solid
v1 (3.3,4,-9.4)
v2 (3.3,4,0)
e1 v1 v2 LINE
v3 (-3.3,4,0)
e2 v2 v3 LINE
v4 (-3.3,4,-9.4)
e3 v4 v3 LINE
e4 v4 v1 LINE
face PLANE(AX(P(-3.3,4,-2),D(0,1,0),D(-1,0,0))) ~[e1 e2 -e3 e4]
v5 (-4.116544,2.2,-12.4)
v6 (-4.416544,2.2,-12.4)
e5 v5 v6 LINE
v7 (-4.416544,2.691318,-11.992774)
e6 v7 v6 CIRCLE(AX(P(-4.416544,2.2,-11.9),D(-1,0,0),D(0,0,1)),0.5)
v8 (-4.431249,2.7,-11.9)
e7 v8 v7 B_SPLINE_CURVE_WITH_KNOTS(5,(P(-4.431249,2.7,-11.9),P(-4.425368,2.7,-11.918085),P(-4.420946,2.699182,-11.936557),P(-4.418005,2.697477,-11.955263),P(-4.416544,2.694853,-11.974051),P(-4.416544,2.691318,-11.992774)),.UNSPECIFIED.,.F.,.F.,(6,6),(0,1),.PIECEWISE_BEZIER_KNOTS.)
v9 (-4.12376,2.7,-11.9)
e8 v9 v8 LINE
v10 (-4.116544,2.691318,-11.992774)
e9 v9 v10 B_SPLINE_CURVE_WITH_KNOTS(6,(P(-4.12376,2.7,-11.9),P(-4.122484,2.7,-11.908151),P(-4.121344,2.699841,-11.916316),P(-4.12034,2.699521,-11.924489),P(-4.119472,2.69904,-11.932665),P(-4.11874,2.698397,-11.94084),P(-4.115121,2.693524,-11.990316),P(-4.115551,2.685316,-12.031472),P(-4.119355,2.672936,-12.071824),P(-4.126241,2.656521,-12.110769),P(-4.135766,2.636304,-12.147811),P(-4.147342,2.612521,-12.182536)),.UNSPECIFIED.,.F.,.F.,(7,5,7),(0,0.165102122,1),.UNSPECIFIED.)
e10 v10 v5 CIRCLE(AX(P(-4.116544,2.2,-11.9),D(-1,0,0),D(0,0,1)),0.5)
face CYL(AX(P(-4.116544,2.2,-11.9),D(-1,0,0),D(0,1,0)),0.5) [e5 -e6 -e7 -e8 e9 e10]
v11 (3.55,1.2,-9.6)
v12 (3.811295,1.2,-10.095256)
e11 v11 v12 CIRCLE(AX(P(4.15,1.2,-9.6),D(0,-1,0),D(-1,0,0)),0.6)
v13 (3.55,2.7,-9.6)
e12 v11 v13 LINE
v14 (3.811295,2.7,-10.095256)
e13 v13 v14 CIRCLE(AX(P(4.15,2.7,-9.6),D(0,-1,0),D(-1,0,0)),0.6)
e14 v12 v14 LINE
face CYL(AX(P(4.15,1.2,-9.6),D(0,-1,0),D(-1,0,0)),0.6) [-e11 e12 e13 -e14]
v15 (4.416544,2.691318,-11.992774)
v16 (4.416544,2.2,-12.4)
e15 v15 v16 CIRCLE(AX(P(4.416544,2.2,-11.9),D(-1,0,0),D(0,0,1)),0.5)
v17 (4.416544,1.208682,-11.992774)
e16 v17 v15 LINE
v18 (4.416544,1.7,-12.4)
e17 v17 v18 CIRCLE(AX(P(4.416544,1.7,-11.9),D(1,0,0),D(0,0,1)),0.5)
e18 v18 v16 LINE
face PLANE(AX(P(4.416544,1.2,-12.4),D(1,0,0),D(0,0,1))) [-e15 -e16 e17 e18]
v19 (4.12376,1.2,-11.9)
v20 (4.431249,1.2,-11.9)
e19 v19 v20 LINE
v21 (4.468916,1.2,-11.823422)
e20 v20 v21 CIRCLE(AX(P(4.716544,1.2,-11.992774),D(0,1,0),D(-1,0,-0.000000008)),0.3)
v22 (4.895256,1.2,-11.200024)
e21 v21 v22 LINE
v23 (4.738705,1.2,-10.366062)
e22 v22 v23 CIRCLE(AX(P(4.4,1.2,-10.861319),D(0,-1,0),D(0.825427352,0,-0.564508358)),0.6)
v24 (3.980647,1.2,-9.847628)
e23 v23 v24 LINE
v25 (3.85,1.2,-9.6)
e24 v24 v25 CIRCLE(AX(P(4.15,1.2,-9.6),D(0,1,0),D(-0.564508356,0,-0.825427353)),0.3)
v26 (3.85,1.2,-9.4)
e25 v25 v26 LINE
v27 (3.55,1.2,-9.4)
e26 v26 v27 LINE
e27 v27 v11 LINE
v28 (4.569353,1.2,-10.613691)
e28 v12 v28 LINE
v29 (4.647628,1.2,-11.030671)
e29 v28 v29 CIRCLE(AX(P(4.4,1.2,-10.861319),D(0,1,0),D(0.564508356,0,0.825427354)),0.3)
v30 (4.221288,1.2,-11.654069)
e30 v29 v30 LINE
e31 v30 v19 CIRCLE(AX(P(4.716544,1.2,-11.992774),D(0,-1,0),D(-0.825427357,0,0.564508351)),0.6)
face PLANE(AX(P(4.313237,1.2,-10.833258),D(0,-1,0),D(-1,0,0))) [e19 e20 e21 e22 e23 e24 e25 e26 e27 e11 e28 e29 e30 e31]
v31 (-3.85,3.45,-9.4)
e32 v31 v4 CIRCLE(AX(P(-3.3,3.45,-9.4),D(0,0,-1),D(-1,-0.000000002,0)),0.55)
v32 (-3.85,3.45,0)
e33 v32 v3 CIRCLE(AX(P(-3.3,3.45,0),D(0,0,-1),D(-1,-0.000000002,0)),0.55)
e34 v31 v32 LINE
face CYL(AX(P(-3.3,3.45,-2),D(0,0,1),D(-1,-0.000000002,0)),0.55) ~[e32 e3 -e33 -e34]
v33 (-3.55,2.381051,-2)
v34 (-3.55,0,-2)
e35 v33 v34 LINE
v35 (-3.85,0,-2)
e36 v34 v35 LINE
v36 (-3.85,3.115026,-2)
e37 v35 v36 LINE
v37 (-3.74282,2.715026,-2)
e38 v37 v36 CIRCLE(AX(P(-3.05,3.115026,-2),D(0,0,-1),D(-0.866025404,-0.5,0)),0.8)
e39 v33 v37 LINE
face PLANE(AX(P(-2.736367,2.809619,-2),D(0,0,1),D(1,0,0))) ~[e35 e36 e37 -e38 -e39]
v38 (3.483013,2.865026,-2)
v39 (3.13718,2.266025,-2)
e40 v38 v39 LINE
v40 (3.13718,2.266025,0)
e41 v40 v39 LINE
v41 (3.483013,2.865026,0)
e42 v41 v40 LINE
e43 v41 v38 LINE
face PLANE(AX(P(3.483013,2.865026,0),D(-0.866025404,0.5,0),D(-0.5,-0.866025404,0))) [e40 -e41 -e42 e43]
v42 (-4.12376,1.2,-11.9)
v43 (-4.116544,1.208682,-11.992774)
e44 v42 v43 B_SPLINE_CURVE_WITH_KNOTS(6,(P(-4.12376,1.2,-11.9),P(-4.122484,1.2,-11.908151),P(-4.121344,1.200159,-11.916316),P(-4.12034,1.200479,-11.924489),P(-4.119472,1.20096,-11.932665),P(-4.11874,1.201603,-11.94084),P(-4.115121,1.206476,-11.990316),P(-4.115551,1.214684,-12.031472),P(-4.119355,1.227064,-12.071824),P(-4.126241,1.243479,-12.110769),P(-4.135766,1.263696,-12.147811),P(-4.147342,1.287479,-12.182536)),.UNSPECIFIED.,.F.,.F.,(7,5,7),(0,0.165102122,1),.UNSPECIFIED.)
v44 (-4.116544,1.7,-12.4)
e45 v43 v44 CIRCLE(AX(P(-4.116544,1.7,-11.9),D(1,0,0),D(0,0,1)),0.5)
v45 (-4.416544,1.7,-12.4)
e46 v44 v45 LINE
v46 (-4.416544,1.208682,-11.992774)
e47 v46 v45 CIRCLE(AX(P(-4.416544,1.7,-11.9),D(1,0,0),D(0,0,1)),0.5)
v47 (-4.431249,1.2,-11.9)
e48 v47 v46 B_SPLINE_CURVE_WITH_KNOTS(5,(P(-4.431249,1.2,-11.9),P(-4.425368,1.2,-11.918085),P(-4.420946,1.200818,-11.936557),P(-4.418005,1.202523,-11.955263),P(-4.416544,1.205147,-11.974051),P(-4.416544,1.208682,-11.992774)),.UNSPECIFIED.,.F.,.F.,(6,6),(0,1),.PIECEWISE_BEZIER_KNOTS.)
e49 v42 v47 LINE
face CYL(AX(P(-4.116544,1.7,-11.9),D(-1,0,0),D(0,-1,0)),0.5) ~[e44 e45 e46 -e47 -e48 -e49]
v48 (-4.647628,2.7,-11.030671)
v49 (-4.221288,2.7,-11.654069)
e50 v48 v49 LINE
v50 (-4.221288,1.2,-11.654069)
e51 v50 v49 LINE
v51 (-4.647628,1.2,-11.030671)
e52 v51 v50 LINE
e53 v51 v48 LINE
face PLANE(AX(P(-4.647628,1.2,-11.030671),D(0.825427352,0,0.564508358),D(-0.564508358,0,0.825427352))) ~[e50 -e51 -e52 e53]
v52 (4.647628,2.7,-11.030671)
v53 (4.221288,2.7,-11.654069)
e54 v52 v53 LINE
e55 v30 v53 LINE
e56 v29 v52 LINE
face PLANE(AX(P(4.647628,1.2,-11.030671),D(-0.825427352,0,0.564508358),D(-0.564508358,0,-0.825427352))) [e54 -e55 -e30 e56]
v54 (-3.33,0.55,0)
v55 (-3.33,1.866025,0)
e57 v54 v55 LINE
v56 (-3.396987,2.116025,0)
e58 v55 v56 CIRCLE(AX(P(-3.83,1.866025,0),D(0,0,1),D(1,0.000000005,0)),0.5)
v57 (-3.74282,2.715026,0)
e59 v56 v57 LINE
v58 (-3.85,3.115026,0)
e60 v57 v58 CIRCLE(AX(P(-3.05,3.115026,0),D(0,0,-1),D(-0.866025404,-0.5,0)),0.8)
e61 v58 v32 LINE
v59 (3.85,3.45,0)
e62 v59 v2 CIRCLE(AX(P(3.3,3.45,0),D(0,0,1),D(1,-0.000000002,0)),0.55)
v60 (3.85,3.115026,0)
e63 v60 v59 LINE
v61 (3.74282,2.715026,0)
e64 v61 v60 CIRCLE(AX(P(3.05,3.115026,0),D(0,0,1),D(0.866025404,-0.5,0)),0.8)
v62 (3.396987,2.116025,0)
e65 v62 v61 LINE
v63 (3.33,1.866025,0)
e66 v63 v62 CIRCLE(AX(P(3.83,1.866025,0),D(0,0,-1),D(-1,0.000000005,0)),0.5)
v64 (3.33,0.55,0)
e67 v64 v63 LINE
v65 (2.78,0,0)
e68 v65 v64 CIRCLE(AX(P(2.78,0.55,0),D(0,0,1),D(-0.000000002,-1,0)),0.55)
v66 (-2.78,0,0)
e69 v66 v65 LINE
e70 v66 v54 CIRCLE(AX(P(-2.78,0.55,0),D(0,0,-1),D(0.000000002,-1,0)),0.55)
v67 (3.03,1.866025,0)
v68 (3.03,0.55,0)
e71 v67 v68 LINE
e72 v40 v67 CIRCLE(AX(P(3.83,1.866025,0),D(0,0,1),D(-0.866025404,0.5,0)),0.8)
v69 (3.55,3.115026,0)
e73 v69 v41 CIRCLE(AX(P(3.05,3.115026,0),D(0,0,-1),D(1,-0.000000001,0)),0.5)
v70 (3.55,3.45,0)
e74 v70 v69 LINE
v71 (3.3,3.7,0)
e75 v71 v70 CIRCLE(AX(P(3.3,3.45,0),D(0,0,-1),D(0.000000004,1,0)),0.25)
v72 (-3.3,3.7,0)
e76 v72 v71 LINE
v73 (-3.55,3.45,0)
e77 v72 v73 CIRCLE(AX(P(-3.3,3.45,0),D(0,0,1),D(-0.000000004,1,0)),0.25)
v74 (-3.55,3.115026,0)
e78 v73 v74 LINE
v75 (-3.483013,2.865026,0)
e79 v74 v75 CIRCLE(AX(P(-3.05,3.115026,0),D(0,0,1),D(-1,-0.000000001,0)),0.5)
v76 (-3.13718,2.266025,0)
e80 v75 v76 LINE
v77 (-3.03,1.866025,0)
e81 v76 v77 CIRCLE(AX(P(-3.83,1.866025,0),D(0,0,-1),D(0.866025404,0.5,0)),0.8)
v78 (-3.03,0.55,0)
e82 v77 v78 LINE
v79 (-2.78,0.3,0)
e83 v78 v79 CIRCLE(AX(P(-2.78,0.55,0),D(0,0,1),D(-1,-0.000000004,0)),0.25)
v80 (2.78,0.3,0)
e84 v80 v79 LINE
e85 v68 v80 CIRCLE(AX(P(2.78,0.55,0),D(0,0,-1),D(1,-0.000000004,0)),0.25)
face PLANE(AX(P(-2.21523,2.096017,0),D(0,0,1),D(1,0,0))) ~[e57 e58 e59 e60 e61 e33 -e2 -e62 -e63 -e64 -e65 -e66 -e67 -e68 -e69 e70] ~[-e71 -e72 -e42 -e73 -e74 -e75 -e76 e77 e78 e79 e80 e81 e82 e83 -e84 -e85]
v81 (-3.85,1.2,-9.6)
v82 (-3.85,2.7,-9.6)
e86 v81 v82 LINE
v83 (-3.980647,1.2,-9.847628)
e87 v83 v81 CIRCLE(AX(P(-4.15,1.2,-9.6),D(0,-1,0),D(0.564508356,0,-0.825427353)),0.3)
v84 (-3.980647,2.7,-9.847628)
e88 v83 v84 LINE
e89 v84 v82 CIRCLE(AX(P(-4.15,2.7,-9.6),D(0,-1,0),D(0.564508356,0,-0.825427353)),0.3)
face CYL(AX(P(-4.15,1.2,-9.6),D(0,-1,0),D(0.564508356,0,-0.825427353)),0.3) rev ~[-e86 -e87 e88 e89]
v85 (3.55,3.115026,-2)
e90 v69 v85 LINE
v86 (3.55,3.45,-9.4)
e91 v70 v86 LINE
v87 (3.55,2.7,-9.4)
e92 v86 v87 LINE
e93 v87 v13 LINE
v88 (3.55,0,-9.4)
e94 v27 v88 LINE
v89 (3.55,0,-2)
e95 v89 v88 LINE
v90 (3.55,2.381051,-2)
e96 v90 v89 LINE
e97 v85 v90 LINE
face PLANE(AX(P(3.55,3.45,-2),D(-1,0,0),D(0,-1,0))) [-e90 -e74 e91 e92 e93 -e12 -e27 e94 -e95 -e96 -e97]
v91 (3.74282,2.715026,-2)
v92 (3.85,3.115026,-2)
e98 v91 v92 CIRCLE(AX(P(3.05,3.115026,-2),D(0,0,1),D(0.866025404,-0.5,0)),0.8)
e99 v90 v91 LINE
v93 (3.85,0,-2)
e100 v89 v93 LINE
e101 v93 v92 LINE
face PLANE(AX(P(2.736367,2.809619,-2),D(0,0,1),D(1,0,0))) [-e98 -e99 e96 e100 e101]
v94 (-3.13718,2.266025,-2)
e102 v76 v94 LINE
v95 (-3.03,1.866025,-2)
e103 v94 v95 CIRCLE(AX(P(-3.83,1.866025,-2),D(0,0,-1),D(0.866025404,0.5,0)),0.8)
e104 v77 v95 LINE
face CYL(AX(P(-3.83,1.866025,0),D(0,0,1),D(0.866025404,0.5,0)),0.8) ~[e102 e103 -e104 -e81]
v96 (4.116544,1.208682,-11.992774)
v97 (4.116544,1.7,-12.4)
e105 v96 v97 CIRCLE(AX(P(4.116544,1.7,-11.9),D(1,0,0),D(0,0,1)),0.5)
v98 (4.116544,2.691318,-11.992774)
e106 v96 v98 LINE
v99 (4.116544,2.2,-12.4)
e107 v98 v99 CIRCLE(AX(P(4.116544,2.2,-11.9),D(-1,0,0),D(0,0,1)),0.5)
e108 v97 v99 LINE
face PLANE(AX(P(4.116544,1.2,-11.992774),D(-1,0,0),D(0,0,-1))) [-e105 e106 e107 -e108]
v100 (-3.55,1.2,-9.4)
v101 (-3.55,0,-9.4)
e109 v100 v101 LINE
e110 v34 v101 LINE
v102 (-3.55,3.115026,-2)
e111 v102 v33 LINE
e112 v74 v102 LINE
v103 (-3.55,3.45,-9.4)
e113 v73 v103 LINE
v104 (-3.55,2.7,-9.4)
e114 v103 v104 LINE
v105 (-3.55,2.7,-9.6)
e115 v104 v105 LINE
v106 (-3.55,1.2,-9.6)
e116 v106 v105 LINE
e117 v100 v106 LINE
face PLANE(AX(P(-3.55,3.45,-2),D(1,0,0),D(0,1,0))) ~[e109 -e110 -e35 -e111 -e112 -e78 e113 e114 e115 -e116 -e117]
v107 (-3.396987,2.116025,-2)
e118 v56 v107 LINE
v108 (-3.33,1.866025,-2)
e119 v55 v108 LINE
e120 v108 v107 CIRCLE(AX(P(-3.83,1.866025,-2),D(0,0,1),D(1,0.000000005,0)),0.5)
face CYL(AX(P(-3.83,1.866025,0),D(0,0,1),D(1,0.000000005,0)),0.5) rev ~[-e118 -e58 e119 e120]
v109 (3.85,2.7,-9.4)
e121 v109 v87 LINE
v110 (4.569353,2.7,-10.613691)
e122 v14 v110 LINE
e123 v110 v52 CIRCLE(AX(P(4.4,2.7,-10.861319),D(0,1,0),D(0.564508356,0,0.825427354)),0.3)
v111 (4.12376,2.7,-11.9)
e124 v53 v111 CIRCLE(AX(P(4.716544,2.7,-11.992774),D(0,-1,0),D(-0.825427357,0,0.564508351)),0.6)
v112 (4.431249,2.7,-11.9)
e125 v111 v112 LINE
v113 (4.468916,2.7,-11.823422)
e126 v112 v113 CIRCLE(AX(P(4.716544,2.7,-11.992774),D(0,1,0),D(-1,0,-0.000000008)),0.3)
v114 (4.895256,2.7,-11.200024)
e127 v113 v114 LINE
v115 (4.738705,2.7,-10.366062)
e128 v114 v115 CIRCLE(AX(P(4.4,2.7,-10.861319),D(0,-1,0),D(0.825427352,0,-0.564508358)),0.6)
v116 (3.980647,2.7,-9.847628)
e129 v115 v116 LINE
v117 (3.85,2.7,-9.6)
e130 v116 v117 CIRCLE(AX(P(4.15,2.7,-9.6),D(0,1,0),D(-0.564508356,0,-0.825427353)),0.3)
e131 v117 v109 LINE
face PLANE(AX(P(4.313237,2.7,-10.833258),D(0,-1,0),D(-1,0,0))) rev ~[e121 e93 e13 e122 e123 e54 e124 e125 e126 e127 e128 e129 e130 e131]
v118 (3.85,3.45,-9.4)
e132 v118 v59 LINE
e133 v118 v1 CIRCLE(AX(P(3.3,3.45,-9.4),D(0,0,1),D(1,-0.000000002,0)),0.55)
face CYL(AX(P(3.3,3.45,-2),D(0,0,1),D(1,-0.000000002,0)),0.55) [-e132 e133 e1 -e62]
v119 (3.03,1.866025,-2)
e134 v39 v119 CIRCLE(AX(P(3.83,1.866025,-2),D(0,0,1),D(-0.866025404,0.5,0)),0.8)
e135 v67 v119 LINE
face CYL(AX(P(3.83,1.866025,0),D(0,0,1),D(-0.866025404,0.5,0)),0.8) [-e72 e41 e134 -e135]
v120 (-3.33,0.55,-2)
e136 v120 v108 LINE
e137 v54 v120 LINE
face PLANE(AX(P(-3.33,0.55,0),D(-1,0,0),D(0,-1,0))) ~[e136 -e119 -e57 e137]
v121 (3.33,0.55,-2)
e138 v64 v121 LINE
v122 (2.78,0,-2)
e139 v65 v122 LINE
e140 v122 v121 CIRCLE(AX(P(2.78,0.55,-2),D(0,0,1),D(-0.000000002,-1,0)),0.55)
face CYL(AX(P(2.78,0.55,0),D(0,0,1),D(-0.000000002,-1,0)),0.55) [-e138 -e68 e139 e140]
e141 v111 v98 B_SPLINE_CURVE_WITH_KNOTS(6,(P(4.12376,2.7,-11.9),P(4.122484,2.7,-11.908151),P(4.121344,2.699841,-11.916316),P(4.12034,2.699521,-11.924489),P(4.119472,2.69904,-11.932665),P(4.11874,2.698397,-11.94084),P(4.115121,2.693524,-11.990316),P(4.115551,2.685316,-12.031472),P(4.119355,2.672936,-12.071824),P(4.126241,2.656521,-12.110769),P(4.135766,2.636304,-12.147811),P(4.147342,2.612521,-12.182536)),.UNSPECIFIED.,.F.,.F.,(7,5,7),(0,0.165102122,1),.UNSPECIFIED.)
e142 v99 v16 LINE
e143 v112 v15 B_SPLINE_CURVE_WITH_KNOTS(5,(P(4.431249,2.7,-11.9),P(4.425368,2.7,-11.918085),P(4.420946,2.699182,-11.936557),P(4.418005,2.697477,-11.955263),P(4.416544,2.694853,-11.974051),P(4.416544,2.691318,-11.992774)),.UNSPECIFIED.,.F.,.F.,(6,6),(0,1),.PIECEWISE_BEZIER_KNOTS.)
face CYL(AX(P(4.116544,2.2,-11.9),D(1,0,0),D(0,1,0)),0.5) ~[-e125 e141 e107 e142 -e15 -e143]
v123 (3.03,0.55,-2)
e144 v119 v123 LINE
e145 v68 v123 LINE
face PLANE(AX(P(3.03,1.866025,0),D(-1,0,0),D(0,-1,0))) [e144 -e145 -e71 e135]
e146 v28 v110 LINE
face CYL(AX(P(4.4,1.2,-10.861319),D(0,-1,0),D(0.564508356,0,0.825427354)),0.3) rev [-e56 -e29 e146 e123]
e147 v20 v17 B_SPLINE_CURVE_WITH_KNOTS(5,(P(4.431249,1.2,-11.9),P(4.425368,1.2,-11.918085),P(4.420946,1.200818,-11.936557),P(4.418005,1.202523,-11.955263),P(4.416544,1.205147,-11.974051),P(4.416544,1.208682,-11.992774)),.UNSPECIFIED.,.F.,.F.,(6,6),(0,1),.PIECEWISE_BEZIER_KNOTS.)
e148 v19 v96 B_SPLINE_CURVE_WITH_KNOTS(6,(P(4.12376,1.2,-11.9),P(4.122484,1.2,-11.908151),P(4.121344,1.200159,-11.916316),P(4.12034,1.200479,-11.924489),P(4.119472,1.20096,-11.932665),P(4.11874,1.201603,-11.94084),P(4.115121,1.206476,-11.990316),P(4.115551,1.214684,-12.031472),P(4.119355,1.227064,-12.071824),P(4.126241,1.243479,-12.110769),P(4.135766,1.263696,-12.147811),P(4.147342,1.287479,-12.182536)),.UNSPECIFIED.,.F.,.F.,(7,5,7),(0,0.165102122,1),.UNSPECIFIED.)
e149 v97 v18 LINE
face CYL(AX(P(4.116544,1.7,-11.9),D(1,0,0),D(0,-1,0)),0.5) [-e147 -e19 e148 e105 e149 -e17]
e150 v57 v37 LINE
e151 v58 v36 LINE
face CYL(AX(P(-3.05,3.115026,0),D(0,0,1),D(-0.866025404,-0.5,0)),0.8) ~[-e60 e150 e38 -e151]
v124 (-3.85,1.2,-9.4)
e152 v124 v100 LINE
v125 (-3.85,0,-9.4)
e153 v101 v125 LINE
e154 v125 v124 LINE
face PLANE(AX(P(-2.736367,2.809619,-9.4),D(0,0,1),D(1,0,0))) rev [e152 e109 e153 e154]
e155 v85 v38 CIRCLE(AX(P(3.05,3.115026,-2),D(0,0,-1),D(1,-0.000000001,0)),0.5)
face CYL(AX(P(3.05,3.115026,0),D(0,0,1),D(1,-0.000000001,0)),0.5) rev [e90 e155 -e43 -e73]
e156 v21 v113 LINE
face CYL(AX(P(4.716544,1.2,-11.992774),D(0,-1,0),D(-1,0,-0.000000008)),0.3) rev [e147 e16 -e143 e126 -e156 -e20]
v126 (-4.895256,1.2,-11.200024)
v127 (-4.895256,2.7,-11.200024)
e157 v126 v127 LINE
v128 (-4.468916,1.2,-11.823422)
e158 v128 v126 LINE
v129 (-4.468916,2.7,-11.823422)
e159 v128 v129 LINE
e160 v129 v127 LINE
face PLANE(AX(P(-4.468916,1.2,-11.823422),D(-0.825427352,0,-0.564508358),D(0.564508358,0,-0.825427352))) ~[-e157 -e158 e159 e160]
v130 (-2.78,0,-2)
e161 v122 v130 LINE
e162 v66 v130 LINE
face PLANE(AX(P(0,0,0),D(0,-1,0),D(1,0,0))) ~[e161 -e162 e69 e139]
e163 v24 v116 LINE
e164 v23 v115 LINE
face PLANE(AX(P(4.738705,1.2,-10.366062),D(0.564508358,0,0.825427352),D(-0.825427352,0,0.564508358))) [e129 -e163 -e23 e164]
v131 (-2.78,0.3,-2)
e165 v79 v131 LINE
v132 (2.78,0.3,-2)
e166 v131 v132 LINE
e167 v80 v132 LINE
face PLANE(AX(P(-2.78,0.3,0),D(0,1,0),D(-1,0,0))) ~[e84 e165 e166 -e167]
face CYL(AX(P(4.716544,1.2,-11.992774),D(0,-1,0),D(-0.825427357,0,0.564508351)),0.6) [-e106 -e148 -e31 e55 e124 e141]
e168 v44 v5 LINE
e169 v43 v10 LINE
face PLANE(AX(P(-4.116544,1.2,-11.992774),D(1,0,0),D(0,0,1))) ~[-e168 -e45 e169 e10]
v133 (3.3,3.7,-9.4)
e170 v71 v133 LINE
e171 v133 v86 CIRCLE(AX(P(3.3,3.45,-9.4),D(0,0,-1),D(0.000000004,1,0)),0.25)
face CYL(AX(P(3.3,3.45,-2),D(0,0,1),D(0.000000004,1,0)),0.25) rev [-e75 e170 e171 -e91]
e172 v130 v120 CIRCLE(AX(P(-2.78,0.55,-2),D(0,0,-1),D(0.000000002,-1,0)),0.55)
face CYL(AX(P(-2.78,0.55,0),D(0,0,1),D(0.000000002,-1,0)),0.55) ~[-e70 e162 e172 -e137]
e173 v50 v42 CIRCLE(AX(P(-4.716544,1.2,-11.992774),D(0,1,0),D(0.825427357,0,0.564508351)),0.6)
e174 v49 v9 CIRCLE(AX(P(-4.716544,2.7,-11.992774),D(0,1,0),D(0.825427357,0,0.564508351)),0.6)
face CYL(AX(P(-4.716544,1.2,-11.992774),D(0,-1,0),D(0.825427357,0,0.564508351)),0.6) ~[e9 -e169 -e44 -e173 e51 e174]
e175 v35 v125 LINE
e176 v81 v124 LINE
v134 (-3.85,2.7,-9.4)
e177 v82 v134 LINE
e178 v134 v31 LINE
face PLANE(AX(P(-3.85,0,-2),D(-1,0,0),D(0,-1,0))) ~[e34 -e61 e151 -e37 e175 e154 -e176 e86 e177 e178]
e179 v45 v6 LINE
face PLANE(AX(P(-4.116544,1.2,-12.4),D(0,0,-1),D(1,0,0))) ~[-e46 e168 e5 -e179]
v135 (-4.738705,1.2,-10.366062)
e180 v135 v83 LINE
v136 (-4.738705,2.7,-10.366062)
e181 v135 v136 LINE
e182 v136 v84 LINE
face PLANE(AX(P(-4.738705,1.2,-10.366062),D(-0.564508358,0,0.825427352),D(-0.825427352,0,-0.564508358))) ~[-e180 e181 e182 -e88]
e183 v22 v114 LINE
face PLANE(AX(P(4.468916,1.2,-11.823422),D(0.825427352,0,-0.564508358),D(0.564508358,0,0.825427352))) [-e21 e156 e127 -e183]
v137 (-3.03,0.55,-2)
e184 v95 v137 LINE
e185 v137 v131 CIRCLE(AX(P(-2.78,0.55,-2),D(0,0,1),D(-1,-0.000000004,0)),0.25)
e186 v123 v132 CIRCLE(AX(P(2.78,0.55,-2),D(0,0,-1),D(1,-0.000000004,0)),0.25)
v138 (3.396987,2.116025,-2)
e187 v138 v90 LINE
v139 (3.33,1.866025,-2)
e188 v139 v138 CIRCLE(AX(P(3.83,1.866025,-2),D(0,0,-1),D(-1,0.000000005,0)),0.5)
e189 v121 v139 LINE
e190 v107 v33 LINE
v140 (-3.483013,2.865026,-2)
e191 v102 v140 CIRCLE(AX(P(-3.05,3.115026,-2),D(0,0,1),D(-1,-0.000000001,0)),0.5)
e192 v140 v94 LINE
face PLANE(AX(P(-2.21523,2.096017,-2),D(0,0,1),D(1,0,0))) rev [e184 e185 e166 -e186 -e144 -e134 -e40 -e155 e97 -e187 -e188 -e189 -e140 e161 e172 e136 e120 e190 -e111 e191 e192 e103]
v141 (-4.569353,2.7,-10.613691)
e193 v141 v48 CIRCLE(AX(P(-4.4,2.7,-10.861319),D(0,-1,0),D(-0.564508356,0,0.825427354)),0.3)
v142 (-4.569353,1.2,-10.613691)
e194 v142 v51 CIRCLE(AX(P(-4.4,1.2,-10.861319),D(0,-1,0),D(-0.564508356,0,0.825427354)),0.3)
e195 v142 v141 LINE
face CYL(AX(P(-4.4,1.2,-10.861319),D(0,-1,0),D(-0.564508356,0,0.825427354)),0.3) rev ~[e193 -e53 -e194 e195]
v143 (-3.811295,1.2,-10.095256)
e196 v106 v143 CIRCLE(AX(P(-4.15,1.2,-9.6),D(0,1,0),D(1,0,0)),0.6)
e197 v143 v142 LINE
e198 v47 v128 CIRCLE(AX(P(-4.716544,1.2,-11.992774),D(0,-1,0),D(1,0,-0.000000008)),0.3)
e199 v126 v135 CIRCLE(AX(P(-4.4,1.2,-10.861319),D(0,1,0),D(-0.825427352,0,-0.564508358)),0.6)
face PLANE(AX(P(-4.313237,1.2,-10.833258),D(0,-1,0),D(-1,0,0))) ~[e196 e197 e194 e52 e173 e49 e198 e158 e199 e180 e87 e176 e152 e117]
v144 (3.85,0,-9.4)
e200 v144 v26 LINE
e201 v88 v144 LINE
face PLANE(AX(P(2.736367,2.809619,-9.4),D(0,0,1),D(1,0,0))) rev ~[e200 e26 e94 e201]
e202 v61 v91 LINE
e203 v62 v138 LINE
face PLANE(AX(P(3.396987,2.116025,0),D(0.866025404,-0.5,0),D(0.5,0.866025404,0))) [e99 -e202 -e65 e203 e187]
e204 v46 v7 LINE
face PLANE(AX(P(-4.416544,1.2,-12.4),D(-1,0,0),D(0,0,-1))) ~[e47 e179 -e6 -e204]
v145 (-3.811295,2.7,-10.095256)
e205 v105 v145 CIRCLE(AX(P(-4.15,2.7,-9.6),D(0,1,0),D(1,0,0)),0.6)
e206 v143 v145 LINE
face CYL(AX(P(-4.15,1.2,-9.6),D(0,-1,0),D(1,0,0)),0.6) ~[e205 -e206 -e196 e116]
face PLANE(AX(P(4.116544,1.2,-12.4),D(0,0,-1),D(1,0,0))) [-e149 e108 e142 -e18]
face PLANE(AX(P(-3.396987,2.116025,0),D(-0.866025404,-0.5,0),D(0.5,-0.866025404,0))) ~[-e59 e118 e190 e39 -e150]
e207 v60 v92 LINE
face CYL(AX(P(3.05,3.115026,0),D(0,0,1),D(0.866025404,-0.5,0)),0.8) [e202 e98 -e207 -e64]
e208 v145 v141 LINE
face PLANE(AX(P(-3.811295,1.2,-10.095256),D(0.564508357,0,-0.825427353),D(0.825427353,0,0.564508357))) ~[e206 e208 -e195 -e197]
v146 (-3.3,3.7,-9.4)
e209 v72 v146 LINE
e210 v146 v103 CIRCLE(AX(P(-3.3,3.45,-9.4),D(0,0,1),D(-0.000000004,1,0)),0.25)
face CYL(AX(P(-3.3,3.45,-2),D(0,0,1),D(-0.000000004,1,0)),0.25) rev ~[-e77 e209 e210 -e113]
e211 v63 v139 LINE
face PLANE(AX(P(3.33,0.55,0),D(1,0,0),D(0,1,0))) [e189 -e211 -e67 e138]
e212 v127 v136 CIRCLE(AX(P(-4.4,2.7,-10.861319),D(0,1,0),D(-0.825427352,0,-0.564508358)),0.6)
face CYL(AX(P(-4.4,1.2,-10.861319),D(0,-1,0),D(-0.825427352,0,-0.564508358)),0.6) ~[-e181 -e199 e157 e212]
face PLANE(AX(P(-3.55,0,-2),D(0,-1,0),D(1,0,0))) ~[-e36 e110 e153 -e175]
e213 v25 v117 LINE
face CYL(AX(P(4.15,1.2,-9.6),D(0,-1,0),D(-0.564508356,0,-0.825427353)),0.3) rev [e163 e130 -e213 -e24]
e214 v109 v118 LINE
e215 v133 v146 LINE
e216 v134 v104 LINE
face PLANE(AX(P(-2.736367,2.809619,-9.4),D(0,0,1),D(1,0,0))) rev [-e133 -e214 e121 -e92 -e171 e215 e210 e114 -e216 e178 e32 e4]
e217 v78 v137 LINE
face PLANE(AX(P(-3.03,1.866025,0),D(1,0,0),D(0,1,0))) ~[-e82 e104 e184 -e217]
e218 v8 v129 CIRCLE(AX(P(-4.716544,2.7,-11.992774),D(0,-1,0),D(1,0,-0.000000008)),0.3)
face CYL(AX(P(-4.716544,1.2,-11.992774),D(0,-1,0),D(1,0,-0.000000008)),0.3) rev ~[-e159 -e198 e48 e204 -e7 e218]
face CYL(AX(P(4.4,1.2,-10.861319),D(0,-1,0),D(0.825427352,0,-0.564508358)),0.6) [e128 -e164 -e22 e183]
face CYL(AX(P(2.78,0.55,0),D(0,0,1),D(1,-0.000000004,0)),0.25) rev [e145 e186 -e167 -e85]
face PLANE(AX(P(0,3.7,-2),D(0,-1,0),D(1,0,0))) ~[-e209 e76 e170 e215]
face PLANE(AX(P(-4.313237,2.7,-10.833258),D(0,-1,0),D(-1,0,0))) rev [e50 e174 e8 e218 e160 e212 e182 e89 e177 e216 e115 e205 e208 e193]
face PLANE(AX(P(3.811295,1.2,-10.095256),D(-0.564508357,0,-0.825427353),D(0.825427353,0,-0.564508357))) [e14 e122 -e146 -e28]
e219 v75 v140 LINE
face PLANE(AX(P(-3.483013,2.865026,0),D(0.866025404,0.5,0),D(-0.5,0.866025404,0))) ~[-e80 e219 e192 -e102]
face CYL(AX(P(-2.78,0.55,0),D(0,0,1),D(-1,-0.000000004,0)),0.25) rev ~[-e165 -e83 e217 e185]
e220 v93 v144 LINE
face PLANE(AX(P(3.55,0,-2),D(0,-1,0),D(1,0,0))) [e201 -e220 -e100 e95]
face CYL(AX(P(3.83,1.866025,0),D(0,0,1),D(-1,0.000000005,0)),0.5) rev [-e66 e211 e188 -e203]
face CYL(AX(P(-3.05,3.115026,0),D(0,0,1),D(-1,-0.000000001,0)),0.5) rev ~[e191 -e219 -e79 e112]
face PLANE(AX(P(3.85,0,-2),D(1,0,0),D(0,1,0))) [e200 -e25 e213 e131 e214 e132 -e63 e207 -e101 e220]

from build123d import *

# Parameters (mm, degrees)
BOSS_EXTRUDE1_DEPTH = 2
BOSS_EXTRUDE2_DEPTH = 7.4
BOSS_EXTRUDE3_DEPTH = 1.5
FILLET1_R           = 0.5


with BuildPart() as part:
    # Sketch2 → Boss-Extrude1 (new body)
    with BuildSketch(Plane.XY):
        with BuildLine():
            Line((0, 0), (2.78, 0))
            ThreePointArc((2.78, 0), (3.16890873, 0.16109127), (3.33, 0.55))
            Line((3.33, 0.55), (3.33, 1.866025404))
            ThreePointArc((3.33, 1.866025404), (3.347037087, 1.995434926), (3.396987298, 2.116025404))
            Line((3.396987298, 2.116025404), (3.742820323, 2.715025774))
            ThreePointArc((3.742820323, 2.715025774), (3.822740661, 2.907970538), (3.85, 3.115025774))
            Line((3.85, 3.115025774), (3.85, 3.45))
            ThreePointArc((3.85, 3.45), (3.68890873, 3.83890873), (3.3, 4))
            Line((3.3, 4), (0, 4))
            Line((0, 4), (0, 3.7))
            Line((0, 3.7), (3.3, 3.7))
            ThreePointArc((3.3, 3.7), (3.476776695, 3.626776695), (3.55, 3.45))
            Line((3.55, 3.45), (3.55, 3.115025774))
            ThreePointArc((3.55, 3.115025774), (3.532962913, 2.985616251), (3.483012702, 2.865025774))
            Line((3.483012702, 2.865025774), (3.137179677, 2.266025404))
            ThreePointArc((3.137179677, 2.266025404), (3.057259339, 2.07308064), (3.03, 1.866025404))
            Line((3.03, 1.866025404), (3.03, 0.55))
            ThreePointArc((3.03, 0.55), (2.956776695, 0.373223305), (2.78, 0.3))
            Line((2.78, 0.3), (0, 0.3))
            Line((0, 0.3), (0, 0))
        make_face()
    extrude(amount=-BOSS_EXTRUDE1_DEPTH)

    # Sketch4 → Boss-Extrude2 (add)
    with BuildSketch(Plane(origin=(0, 0, -2), x_dir=(-1, 0, 0), z_dir=(0, 0, -1))):
        with BuildLine():
            Line((-3.55, 0), (-3.85, 0))
            Line((-3.85, 0), (-3.85, 3.45))
            ThreePointArc((-3.85, 3.45), (-3.68890873, 3.83890873), (-3.3, 4))
            Line((-3.3, 4), (0, 4))
            Line((0, 4), (0, 3.7))
            Line((0, 3.7), (-3.3, 3.7))
            ThreePointArc((-3.3, 3.7), (-3.476776695, 3.626776695), (-3.55, 3.45))
            Line((-3.55, 3.45), (-3.55, 0))
        make_face()
    extrude(amount=BOSS_EXTRUDE2_DEPTH)

    # Sketch5 → Boss-Extrude3 (add)
    with BuildSketch(Plane(origin=(0, 1.2, 0), x_dir=(1, 0, 0), z_dir=(0, 1, 0))):
        with BuildLine():
            Line((3.85, 9.4), (3.55, 9.4))
            Line((3.55, 9.4), (3.55, 9.6))
            ThreePointArc((3.55, 9.6), (3.619329194, 9.879979456), (3.811294986, 10.095256412))
            Line((3.811294986, 10.095256412), (4.569352507, 10.613690656))
            ThreePointArc((4.569352507, 10.613690656), (4.69484989, 10.805969585), (4.647628206, 11.030671369))
            Line((4.647628206, 11.030671369), (4.221287524, 11.654069155))
            ThreePointArc((4.221287524, 11.654069155), (4.143327639, 11.815508616), (4.116543936, 11.99277417))
            Line((4.116543936, 11.99277417), (4.116543936, 12.4))
            Line((4.116543936, 12.4), (4.416543936, 12.4))
            Line((4.416543936, 12.4), (4.416543936, 11.99277417))
            ThreePointArc((4.416543936, 11.99277417), (4.429935787, 11.904141393), (4.46891573, 11.823421663))
            Line((4.46891573, 11.823421663), (4.895256412, 11.200023877))
            ThreePointArc((4.895256412, 11.200023877), (4.98969978, 10.750620308), (4.738705014, 10.366062451))
            Line((4.738705014, 10.366062451), (3.980647493, 9.847628206))
            ThreePointArc((3.980647493, 9.847628206), (3.884664597, 9.739989728), (3.85, 9.6))
            Line((3.85, 9.6), (3.85, 9.4))
        make_face()
    extrude(amount=BOSS_EXTRUDE3_DEPTH)

    # Fillet1
    fillet1_edges = [part.edges().sort_by_distance(p)[0] for p in [
        (4.266543936, 1.2, -12.4),
        (4.266543936, 2.7, -12.4),
    ]]
    fillet(fillet1_edges, radius=FILLET1_R)

    # Mirror1: part across plane


with BuildPart() as part_1:
    add(part.part)
    add(part.part.mirror(Plane(origin=(0, 4, -2), x_dir=(0, 0, 1), z_dir=(-1, 0, 0))))


solid = part_1.part
